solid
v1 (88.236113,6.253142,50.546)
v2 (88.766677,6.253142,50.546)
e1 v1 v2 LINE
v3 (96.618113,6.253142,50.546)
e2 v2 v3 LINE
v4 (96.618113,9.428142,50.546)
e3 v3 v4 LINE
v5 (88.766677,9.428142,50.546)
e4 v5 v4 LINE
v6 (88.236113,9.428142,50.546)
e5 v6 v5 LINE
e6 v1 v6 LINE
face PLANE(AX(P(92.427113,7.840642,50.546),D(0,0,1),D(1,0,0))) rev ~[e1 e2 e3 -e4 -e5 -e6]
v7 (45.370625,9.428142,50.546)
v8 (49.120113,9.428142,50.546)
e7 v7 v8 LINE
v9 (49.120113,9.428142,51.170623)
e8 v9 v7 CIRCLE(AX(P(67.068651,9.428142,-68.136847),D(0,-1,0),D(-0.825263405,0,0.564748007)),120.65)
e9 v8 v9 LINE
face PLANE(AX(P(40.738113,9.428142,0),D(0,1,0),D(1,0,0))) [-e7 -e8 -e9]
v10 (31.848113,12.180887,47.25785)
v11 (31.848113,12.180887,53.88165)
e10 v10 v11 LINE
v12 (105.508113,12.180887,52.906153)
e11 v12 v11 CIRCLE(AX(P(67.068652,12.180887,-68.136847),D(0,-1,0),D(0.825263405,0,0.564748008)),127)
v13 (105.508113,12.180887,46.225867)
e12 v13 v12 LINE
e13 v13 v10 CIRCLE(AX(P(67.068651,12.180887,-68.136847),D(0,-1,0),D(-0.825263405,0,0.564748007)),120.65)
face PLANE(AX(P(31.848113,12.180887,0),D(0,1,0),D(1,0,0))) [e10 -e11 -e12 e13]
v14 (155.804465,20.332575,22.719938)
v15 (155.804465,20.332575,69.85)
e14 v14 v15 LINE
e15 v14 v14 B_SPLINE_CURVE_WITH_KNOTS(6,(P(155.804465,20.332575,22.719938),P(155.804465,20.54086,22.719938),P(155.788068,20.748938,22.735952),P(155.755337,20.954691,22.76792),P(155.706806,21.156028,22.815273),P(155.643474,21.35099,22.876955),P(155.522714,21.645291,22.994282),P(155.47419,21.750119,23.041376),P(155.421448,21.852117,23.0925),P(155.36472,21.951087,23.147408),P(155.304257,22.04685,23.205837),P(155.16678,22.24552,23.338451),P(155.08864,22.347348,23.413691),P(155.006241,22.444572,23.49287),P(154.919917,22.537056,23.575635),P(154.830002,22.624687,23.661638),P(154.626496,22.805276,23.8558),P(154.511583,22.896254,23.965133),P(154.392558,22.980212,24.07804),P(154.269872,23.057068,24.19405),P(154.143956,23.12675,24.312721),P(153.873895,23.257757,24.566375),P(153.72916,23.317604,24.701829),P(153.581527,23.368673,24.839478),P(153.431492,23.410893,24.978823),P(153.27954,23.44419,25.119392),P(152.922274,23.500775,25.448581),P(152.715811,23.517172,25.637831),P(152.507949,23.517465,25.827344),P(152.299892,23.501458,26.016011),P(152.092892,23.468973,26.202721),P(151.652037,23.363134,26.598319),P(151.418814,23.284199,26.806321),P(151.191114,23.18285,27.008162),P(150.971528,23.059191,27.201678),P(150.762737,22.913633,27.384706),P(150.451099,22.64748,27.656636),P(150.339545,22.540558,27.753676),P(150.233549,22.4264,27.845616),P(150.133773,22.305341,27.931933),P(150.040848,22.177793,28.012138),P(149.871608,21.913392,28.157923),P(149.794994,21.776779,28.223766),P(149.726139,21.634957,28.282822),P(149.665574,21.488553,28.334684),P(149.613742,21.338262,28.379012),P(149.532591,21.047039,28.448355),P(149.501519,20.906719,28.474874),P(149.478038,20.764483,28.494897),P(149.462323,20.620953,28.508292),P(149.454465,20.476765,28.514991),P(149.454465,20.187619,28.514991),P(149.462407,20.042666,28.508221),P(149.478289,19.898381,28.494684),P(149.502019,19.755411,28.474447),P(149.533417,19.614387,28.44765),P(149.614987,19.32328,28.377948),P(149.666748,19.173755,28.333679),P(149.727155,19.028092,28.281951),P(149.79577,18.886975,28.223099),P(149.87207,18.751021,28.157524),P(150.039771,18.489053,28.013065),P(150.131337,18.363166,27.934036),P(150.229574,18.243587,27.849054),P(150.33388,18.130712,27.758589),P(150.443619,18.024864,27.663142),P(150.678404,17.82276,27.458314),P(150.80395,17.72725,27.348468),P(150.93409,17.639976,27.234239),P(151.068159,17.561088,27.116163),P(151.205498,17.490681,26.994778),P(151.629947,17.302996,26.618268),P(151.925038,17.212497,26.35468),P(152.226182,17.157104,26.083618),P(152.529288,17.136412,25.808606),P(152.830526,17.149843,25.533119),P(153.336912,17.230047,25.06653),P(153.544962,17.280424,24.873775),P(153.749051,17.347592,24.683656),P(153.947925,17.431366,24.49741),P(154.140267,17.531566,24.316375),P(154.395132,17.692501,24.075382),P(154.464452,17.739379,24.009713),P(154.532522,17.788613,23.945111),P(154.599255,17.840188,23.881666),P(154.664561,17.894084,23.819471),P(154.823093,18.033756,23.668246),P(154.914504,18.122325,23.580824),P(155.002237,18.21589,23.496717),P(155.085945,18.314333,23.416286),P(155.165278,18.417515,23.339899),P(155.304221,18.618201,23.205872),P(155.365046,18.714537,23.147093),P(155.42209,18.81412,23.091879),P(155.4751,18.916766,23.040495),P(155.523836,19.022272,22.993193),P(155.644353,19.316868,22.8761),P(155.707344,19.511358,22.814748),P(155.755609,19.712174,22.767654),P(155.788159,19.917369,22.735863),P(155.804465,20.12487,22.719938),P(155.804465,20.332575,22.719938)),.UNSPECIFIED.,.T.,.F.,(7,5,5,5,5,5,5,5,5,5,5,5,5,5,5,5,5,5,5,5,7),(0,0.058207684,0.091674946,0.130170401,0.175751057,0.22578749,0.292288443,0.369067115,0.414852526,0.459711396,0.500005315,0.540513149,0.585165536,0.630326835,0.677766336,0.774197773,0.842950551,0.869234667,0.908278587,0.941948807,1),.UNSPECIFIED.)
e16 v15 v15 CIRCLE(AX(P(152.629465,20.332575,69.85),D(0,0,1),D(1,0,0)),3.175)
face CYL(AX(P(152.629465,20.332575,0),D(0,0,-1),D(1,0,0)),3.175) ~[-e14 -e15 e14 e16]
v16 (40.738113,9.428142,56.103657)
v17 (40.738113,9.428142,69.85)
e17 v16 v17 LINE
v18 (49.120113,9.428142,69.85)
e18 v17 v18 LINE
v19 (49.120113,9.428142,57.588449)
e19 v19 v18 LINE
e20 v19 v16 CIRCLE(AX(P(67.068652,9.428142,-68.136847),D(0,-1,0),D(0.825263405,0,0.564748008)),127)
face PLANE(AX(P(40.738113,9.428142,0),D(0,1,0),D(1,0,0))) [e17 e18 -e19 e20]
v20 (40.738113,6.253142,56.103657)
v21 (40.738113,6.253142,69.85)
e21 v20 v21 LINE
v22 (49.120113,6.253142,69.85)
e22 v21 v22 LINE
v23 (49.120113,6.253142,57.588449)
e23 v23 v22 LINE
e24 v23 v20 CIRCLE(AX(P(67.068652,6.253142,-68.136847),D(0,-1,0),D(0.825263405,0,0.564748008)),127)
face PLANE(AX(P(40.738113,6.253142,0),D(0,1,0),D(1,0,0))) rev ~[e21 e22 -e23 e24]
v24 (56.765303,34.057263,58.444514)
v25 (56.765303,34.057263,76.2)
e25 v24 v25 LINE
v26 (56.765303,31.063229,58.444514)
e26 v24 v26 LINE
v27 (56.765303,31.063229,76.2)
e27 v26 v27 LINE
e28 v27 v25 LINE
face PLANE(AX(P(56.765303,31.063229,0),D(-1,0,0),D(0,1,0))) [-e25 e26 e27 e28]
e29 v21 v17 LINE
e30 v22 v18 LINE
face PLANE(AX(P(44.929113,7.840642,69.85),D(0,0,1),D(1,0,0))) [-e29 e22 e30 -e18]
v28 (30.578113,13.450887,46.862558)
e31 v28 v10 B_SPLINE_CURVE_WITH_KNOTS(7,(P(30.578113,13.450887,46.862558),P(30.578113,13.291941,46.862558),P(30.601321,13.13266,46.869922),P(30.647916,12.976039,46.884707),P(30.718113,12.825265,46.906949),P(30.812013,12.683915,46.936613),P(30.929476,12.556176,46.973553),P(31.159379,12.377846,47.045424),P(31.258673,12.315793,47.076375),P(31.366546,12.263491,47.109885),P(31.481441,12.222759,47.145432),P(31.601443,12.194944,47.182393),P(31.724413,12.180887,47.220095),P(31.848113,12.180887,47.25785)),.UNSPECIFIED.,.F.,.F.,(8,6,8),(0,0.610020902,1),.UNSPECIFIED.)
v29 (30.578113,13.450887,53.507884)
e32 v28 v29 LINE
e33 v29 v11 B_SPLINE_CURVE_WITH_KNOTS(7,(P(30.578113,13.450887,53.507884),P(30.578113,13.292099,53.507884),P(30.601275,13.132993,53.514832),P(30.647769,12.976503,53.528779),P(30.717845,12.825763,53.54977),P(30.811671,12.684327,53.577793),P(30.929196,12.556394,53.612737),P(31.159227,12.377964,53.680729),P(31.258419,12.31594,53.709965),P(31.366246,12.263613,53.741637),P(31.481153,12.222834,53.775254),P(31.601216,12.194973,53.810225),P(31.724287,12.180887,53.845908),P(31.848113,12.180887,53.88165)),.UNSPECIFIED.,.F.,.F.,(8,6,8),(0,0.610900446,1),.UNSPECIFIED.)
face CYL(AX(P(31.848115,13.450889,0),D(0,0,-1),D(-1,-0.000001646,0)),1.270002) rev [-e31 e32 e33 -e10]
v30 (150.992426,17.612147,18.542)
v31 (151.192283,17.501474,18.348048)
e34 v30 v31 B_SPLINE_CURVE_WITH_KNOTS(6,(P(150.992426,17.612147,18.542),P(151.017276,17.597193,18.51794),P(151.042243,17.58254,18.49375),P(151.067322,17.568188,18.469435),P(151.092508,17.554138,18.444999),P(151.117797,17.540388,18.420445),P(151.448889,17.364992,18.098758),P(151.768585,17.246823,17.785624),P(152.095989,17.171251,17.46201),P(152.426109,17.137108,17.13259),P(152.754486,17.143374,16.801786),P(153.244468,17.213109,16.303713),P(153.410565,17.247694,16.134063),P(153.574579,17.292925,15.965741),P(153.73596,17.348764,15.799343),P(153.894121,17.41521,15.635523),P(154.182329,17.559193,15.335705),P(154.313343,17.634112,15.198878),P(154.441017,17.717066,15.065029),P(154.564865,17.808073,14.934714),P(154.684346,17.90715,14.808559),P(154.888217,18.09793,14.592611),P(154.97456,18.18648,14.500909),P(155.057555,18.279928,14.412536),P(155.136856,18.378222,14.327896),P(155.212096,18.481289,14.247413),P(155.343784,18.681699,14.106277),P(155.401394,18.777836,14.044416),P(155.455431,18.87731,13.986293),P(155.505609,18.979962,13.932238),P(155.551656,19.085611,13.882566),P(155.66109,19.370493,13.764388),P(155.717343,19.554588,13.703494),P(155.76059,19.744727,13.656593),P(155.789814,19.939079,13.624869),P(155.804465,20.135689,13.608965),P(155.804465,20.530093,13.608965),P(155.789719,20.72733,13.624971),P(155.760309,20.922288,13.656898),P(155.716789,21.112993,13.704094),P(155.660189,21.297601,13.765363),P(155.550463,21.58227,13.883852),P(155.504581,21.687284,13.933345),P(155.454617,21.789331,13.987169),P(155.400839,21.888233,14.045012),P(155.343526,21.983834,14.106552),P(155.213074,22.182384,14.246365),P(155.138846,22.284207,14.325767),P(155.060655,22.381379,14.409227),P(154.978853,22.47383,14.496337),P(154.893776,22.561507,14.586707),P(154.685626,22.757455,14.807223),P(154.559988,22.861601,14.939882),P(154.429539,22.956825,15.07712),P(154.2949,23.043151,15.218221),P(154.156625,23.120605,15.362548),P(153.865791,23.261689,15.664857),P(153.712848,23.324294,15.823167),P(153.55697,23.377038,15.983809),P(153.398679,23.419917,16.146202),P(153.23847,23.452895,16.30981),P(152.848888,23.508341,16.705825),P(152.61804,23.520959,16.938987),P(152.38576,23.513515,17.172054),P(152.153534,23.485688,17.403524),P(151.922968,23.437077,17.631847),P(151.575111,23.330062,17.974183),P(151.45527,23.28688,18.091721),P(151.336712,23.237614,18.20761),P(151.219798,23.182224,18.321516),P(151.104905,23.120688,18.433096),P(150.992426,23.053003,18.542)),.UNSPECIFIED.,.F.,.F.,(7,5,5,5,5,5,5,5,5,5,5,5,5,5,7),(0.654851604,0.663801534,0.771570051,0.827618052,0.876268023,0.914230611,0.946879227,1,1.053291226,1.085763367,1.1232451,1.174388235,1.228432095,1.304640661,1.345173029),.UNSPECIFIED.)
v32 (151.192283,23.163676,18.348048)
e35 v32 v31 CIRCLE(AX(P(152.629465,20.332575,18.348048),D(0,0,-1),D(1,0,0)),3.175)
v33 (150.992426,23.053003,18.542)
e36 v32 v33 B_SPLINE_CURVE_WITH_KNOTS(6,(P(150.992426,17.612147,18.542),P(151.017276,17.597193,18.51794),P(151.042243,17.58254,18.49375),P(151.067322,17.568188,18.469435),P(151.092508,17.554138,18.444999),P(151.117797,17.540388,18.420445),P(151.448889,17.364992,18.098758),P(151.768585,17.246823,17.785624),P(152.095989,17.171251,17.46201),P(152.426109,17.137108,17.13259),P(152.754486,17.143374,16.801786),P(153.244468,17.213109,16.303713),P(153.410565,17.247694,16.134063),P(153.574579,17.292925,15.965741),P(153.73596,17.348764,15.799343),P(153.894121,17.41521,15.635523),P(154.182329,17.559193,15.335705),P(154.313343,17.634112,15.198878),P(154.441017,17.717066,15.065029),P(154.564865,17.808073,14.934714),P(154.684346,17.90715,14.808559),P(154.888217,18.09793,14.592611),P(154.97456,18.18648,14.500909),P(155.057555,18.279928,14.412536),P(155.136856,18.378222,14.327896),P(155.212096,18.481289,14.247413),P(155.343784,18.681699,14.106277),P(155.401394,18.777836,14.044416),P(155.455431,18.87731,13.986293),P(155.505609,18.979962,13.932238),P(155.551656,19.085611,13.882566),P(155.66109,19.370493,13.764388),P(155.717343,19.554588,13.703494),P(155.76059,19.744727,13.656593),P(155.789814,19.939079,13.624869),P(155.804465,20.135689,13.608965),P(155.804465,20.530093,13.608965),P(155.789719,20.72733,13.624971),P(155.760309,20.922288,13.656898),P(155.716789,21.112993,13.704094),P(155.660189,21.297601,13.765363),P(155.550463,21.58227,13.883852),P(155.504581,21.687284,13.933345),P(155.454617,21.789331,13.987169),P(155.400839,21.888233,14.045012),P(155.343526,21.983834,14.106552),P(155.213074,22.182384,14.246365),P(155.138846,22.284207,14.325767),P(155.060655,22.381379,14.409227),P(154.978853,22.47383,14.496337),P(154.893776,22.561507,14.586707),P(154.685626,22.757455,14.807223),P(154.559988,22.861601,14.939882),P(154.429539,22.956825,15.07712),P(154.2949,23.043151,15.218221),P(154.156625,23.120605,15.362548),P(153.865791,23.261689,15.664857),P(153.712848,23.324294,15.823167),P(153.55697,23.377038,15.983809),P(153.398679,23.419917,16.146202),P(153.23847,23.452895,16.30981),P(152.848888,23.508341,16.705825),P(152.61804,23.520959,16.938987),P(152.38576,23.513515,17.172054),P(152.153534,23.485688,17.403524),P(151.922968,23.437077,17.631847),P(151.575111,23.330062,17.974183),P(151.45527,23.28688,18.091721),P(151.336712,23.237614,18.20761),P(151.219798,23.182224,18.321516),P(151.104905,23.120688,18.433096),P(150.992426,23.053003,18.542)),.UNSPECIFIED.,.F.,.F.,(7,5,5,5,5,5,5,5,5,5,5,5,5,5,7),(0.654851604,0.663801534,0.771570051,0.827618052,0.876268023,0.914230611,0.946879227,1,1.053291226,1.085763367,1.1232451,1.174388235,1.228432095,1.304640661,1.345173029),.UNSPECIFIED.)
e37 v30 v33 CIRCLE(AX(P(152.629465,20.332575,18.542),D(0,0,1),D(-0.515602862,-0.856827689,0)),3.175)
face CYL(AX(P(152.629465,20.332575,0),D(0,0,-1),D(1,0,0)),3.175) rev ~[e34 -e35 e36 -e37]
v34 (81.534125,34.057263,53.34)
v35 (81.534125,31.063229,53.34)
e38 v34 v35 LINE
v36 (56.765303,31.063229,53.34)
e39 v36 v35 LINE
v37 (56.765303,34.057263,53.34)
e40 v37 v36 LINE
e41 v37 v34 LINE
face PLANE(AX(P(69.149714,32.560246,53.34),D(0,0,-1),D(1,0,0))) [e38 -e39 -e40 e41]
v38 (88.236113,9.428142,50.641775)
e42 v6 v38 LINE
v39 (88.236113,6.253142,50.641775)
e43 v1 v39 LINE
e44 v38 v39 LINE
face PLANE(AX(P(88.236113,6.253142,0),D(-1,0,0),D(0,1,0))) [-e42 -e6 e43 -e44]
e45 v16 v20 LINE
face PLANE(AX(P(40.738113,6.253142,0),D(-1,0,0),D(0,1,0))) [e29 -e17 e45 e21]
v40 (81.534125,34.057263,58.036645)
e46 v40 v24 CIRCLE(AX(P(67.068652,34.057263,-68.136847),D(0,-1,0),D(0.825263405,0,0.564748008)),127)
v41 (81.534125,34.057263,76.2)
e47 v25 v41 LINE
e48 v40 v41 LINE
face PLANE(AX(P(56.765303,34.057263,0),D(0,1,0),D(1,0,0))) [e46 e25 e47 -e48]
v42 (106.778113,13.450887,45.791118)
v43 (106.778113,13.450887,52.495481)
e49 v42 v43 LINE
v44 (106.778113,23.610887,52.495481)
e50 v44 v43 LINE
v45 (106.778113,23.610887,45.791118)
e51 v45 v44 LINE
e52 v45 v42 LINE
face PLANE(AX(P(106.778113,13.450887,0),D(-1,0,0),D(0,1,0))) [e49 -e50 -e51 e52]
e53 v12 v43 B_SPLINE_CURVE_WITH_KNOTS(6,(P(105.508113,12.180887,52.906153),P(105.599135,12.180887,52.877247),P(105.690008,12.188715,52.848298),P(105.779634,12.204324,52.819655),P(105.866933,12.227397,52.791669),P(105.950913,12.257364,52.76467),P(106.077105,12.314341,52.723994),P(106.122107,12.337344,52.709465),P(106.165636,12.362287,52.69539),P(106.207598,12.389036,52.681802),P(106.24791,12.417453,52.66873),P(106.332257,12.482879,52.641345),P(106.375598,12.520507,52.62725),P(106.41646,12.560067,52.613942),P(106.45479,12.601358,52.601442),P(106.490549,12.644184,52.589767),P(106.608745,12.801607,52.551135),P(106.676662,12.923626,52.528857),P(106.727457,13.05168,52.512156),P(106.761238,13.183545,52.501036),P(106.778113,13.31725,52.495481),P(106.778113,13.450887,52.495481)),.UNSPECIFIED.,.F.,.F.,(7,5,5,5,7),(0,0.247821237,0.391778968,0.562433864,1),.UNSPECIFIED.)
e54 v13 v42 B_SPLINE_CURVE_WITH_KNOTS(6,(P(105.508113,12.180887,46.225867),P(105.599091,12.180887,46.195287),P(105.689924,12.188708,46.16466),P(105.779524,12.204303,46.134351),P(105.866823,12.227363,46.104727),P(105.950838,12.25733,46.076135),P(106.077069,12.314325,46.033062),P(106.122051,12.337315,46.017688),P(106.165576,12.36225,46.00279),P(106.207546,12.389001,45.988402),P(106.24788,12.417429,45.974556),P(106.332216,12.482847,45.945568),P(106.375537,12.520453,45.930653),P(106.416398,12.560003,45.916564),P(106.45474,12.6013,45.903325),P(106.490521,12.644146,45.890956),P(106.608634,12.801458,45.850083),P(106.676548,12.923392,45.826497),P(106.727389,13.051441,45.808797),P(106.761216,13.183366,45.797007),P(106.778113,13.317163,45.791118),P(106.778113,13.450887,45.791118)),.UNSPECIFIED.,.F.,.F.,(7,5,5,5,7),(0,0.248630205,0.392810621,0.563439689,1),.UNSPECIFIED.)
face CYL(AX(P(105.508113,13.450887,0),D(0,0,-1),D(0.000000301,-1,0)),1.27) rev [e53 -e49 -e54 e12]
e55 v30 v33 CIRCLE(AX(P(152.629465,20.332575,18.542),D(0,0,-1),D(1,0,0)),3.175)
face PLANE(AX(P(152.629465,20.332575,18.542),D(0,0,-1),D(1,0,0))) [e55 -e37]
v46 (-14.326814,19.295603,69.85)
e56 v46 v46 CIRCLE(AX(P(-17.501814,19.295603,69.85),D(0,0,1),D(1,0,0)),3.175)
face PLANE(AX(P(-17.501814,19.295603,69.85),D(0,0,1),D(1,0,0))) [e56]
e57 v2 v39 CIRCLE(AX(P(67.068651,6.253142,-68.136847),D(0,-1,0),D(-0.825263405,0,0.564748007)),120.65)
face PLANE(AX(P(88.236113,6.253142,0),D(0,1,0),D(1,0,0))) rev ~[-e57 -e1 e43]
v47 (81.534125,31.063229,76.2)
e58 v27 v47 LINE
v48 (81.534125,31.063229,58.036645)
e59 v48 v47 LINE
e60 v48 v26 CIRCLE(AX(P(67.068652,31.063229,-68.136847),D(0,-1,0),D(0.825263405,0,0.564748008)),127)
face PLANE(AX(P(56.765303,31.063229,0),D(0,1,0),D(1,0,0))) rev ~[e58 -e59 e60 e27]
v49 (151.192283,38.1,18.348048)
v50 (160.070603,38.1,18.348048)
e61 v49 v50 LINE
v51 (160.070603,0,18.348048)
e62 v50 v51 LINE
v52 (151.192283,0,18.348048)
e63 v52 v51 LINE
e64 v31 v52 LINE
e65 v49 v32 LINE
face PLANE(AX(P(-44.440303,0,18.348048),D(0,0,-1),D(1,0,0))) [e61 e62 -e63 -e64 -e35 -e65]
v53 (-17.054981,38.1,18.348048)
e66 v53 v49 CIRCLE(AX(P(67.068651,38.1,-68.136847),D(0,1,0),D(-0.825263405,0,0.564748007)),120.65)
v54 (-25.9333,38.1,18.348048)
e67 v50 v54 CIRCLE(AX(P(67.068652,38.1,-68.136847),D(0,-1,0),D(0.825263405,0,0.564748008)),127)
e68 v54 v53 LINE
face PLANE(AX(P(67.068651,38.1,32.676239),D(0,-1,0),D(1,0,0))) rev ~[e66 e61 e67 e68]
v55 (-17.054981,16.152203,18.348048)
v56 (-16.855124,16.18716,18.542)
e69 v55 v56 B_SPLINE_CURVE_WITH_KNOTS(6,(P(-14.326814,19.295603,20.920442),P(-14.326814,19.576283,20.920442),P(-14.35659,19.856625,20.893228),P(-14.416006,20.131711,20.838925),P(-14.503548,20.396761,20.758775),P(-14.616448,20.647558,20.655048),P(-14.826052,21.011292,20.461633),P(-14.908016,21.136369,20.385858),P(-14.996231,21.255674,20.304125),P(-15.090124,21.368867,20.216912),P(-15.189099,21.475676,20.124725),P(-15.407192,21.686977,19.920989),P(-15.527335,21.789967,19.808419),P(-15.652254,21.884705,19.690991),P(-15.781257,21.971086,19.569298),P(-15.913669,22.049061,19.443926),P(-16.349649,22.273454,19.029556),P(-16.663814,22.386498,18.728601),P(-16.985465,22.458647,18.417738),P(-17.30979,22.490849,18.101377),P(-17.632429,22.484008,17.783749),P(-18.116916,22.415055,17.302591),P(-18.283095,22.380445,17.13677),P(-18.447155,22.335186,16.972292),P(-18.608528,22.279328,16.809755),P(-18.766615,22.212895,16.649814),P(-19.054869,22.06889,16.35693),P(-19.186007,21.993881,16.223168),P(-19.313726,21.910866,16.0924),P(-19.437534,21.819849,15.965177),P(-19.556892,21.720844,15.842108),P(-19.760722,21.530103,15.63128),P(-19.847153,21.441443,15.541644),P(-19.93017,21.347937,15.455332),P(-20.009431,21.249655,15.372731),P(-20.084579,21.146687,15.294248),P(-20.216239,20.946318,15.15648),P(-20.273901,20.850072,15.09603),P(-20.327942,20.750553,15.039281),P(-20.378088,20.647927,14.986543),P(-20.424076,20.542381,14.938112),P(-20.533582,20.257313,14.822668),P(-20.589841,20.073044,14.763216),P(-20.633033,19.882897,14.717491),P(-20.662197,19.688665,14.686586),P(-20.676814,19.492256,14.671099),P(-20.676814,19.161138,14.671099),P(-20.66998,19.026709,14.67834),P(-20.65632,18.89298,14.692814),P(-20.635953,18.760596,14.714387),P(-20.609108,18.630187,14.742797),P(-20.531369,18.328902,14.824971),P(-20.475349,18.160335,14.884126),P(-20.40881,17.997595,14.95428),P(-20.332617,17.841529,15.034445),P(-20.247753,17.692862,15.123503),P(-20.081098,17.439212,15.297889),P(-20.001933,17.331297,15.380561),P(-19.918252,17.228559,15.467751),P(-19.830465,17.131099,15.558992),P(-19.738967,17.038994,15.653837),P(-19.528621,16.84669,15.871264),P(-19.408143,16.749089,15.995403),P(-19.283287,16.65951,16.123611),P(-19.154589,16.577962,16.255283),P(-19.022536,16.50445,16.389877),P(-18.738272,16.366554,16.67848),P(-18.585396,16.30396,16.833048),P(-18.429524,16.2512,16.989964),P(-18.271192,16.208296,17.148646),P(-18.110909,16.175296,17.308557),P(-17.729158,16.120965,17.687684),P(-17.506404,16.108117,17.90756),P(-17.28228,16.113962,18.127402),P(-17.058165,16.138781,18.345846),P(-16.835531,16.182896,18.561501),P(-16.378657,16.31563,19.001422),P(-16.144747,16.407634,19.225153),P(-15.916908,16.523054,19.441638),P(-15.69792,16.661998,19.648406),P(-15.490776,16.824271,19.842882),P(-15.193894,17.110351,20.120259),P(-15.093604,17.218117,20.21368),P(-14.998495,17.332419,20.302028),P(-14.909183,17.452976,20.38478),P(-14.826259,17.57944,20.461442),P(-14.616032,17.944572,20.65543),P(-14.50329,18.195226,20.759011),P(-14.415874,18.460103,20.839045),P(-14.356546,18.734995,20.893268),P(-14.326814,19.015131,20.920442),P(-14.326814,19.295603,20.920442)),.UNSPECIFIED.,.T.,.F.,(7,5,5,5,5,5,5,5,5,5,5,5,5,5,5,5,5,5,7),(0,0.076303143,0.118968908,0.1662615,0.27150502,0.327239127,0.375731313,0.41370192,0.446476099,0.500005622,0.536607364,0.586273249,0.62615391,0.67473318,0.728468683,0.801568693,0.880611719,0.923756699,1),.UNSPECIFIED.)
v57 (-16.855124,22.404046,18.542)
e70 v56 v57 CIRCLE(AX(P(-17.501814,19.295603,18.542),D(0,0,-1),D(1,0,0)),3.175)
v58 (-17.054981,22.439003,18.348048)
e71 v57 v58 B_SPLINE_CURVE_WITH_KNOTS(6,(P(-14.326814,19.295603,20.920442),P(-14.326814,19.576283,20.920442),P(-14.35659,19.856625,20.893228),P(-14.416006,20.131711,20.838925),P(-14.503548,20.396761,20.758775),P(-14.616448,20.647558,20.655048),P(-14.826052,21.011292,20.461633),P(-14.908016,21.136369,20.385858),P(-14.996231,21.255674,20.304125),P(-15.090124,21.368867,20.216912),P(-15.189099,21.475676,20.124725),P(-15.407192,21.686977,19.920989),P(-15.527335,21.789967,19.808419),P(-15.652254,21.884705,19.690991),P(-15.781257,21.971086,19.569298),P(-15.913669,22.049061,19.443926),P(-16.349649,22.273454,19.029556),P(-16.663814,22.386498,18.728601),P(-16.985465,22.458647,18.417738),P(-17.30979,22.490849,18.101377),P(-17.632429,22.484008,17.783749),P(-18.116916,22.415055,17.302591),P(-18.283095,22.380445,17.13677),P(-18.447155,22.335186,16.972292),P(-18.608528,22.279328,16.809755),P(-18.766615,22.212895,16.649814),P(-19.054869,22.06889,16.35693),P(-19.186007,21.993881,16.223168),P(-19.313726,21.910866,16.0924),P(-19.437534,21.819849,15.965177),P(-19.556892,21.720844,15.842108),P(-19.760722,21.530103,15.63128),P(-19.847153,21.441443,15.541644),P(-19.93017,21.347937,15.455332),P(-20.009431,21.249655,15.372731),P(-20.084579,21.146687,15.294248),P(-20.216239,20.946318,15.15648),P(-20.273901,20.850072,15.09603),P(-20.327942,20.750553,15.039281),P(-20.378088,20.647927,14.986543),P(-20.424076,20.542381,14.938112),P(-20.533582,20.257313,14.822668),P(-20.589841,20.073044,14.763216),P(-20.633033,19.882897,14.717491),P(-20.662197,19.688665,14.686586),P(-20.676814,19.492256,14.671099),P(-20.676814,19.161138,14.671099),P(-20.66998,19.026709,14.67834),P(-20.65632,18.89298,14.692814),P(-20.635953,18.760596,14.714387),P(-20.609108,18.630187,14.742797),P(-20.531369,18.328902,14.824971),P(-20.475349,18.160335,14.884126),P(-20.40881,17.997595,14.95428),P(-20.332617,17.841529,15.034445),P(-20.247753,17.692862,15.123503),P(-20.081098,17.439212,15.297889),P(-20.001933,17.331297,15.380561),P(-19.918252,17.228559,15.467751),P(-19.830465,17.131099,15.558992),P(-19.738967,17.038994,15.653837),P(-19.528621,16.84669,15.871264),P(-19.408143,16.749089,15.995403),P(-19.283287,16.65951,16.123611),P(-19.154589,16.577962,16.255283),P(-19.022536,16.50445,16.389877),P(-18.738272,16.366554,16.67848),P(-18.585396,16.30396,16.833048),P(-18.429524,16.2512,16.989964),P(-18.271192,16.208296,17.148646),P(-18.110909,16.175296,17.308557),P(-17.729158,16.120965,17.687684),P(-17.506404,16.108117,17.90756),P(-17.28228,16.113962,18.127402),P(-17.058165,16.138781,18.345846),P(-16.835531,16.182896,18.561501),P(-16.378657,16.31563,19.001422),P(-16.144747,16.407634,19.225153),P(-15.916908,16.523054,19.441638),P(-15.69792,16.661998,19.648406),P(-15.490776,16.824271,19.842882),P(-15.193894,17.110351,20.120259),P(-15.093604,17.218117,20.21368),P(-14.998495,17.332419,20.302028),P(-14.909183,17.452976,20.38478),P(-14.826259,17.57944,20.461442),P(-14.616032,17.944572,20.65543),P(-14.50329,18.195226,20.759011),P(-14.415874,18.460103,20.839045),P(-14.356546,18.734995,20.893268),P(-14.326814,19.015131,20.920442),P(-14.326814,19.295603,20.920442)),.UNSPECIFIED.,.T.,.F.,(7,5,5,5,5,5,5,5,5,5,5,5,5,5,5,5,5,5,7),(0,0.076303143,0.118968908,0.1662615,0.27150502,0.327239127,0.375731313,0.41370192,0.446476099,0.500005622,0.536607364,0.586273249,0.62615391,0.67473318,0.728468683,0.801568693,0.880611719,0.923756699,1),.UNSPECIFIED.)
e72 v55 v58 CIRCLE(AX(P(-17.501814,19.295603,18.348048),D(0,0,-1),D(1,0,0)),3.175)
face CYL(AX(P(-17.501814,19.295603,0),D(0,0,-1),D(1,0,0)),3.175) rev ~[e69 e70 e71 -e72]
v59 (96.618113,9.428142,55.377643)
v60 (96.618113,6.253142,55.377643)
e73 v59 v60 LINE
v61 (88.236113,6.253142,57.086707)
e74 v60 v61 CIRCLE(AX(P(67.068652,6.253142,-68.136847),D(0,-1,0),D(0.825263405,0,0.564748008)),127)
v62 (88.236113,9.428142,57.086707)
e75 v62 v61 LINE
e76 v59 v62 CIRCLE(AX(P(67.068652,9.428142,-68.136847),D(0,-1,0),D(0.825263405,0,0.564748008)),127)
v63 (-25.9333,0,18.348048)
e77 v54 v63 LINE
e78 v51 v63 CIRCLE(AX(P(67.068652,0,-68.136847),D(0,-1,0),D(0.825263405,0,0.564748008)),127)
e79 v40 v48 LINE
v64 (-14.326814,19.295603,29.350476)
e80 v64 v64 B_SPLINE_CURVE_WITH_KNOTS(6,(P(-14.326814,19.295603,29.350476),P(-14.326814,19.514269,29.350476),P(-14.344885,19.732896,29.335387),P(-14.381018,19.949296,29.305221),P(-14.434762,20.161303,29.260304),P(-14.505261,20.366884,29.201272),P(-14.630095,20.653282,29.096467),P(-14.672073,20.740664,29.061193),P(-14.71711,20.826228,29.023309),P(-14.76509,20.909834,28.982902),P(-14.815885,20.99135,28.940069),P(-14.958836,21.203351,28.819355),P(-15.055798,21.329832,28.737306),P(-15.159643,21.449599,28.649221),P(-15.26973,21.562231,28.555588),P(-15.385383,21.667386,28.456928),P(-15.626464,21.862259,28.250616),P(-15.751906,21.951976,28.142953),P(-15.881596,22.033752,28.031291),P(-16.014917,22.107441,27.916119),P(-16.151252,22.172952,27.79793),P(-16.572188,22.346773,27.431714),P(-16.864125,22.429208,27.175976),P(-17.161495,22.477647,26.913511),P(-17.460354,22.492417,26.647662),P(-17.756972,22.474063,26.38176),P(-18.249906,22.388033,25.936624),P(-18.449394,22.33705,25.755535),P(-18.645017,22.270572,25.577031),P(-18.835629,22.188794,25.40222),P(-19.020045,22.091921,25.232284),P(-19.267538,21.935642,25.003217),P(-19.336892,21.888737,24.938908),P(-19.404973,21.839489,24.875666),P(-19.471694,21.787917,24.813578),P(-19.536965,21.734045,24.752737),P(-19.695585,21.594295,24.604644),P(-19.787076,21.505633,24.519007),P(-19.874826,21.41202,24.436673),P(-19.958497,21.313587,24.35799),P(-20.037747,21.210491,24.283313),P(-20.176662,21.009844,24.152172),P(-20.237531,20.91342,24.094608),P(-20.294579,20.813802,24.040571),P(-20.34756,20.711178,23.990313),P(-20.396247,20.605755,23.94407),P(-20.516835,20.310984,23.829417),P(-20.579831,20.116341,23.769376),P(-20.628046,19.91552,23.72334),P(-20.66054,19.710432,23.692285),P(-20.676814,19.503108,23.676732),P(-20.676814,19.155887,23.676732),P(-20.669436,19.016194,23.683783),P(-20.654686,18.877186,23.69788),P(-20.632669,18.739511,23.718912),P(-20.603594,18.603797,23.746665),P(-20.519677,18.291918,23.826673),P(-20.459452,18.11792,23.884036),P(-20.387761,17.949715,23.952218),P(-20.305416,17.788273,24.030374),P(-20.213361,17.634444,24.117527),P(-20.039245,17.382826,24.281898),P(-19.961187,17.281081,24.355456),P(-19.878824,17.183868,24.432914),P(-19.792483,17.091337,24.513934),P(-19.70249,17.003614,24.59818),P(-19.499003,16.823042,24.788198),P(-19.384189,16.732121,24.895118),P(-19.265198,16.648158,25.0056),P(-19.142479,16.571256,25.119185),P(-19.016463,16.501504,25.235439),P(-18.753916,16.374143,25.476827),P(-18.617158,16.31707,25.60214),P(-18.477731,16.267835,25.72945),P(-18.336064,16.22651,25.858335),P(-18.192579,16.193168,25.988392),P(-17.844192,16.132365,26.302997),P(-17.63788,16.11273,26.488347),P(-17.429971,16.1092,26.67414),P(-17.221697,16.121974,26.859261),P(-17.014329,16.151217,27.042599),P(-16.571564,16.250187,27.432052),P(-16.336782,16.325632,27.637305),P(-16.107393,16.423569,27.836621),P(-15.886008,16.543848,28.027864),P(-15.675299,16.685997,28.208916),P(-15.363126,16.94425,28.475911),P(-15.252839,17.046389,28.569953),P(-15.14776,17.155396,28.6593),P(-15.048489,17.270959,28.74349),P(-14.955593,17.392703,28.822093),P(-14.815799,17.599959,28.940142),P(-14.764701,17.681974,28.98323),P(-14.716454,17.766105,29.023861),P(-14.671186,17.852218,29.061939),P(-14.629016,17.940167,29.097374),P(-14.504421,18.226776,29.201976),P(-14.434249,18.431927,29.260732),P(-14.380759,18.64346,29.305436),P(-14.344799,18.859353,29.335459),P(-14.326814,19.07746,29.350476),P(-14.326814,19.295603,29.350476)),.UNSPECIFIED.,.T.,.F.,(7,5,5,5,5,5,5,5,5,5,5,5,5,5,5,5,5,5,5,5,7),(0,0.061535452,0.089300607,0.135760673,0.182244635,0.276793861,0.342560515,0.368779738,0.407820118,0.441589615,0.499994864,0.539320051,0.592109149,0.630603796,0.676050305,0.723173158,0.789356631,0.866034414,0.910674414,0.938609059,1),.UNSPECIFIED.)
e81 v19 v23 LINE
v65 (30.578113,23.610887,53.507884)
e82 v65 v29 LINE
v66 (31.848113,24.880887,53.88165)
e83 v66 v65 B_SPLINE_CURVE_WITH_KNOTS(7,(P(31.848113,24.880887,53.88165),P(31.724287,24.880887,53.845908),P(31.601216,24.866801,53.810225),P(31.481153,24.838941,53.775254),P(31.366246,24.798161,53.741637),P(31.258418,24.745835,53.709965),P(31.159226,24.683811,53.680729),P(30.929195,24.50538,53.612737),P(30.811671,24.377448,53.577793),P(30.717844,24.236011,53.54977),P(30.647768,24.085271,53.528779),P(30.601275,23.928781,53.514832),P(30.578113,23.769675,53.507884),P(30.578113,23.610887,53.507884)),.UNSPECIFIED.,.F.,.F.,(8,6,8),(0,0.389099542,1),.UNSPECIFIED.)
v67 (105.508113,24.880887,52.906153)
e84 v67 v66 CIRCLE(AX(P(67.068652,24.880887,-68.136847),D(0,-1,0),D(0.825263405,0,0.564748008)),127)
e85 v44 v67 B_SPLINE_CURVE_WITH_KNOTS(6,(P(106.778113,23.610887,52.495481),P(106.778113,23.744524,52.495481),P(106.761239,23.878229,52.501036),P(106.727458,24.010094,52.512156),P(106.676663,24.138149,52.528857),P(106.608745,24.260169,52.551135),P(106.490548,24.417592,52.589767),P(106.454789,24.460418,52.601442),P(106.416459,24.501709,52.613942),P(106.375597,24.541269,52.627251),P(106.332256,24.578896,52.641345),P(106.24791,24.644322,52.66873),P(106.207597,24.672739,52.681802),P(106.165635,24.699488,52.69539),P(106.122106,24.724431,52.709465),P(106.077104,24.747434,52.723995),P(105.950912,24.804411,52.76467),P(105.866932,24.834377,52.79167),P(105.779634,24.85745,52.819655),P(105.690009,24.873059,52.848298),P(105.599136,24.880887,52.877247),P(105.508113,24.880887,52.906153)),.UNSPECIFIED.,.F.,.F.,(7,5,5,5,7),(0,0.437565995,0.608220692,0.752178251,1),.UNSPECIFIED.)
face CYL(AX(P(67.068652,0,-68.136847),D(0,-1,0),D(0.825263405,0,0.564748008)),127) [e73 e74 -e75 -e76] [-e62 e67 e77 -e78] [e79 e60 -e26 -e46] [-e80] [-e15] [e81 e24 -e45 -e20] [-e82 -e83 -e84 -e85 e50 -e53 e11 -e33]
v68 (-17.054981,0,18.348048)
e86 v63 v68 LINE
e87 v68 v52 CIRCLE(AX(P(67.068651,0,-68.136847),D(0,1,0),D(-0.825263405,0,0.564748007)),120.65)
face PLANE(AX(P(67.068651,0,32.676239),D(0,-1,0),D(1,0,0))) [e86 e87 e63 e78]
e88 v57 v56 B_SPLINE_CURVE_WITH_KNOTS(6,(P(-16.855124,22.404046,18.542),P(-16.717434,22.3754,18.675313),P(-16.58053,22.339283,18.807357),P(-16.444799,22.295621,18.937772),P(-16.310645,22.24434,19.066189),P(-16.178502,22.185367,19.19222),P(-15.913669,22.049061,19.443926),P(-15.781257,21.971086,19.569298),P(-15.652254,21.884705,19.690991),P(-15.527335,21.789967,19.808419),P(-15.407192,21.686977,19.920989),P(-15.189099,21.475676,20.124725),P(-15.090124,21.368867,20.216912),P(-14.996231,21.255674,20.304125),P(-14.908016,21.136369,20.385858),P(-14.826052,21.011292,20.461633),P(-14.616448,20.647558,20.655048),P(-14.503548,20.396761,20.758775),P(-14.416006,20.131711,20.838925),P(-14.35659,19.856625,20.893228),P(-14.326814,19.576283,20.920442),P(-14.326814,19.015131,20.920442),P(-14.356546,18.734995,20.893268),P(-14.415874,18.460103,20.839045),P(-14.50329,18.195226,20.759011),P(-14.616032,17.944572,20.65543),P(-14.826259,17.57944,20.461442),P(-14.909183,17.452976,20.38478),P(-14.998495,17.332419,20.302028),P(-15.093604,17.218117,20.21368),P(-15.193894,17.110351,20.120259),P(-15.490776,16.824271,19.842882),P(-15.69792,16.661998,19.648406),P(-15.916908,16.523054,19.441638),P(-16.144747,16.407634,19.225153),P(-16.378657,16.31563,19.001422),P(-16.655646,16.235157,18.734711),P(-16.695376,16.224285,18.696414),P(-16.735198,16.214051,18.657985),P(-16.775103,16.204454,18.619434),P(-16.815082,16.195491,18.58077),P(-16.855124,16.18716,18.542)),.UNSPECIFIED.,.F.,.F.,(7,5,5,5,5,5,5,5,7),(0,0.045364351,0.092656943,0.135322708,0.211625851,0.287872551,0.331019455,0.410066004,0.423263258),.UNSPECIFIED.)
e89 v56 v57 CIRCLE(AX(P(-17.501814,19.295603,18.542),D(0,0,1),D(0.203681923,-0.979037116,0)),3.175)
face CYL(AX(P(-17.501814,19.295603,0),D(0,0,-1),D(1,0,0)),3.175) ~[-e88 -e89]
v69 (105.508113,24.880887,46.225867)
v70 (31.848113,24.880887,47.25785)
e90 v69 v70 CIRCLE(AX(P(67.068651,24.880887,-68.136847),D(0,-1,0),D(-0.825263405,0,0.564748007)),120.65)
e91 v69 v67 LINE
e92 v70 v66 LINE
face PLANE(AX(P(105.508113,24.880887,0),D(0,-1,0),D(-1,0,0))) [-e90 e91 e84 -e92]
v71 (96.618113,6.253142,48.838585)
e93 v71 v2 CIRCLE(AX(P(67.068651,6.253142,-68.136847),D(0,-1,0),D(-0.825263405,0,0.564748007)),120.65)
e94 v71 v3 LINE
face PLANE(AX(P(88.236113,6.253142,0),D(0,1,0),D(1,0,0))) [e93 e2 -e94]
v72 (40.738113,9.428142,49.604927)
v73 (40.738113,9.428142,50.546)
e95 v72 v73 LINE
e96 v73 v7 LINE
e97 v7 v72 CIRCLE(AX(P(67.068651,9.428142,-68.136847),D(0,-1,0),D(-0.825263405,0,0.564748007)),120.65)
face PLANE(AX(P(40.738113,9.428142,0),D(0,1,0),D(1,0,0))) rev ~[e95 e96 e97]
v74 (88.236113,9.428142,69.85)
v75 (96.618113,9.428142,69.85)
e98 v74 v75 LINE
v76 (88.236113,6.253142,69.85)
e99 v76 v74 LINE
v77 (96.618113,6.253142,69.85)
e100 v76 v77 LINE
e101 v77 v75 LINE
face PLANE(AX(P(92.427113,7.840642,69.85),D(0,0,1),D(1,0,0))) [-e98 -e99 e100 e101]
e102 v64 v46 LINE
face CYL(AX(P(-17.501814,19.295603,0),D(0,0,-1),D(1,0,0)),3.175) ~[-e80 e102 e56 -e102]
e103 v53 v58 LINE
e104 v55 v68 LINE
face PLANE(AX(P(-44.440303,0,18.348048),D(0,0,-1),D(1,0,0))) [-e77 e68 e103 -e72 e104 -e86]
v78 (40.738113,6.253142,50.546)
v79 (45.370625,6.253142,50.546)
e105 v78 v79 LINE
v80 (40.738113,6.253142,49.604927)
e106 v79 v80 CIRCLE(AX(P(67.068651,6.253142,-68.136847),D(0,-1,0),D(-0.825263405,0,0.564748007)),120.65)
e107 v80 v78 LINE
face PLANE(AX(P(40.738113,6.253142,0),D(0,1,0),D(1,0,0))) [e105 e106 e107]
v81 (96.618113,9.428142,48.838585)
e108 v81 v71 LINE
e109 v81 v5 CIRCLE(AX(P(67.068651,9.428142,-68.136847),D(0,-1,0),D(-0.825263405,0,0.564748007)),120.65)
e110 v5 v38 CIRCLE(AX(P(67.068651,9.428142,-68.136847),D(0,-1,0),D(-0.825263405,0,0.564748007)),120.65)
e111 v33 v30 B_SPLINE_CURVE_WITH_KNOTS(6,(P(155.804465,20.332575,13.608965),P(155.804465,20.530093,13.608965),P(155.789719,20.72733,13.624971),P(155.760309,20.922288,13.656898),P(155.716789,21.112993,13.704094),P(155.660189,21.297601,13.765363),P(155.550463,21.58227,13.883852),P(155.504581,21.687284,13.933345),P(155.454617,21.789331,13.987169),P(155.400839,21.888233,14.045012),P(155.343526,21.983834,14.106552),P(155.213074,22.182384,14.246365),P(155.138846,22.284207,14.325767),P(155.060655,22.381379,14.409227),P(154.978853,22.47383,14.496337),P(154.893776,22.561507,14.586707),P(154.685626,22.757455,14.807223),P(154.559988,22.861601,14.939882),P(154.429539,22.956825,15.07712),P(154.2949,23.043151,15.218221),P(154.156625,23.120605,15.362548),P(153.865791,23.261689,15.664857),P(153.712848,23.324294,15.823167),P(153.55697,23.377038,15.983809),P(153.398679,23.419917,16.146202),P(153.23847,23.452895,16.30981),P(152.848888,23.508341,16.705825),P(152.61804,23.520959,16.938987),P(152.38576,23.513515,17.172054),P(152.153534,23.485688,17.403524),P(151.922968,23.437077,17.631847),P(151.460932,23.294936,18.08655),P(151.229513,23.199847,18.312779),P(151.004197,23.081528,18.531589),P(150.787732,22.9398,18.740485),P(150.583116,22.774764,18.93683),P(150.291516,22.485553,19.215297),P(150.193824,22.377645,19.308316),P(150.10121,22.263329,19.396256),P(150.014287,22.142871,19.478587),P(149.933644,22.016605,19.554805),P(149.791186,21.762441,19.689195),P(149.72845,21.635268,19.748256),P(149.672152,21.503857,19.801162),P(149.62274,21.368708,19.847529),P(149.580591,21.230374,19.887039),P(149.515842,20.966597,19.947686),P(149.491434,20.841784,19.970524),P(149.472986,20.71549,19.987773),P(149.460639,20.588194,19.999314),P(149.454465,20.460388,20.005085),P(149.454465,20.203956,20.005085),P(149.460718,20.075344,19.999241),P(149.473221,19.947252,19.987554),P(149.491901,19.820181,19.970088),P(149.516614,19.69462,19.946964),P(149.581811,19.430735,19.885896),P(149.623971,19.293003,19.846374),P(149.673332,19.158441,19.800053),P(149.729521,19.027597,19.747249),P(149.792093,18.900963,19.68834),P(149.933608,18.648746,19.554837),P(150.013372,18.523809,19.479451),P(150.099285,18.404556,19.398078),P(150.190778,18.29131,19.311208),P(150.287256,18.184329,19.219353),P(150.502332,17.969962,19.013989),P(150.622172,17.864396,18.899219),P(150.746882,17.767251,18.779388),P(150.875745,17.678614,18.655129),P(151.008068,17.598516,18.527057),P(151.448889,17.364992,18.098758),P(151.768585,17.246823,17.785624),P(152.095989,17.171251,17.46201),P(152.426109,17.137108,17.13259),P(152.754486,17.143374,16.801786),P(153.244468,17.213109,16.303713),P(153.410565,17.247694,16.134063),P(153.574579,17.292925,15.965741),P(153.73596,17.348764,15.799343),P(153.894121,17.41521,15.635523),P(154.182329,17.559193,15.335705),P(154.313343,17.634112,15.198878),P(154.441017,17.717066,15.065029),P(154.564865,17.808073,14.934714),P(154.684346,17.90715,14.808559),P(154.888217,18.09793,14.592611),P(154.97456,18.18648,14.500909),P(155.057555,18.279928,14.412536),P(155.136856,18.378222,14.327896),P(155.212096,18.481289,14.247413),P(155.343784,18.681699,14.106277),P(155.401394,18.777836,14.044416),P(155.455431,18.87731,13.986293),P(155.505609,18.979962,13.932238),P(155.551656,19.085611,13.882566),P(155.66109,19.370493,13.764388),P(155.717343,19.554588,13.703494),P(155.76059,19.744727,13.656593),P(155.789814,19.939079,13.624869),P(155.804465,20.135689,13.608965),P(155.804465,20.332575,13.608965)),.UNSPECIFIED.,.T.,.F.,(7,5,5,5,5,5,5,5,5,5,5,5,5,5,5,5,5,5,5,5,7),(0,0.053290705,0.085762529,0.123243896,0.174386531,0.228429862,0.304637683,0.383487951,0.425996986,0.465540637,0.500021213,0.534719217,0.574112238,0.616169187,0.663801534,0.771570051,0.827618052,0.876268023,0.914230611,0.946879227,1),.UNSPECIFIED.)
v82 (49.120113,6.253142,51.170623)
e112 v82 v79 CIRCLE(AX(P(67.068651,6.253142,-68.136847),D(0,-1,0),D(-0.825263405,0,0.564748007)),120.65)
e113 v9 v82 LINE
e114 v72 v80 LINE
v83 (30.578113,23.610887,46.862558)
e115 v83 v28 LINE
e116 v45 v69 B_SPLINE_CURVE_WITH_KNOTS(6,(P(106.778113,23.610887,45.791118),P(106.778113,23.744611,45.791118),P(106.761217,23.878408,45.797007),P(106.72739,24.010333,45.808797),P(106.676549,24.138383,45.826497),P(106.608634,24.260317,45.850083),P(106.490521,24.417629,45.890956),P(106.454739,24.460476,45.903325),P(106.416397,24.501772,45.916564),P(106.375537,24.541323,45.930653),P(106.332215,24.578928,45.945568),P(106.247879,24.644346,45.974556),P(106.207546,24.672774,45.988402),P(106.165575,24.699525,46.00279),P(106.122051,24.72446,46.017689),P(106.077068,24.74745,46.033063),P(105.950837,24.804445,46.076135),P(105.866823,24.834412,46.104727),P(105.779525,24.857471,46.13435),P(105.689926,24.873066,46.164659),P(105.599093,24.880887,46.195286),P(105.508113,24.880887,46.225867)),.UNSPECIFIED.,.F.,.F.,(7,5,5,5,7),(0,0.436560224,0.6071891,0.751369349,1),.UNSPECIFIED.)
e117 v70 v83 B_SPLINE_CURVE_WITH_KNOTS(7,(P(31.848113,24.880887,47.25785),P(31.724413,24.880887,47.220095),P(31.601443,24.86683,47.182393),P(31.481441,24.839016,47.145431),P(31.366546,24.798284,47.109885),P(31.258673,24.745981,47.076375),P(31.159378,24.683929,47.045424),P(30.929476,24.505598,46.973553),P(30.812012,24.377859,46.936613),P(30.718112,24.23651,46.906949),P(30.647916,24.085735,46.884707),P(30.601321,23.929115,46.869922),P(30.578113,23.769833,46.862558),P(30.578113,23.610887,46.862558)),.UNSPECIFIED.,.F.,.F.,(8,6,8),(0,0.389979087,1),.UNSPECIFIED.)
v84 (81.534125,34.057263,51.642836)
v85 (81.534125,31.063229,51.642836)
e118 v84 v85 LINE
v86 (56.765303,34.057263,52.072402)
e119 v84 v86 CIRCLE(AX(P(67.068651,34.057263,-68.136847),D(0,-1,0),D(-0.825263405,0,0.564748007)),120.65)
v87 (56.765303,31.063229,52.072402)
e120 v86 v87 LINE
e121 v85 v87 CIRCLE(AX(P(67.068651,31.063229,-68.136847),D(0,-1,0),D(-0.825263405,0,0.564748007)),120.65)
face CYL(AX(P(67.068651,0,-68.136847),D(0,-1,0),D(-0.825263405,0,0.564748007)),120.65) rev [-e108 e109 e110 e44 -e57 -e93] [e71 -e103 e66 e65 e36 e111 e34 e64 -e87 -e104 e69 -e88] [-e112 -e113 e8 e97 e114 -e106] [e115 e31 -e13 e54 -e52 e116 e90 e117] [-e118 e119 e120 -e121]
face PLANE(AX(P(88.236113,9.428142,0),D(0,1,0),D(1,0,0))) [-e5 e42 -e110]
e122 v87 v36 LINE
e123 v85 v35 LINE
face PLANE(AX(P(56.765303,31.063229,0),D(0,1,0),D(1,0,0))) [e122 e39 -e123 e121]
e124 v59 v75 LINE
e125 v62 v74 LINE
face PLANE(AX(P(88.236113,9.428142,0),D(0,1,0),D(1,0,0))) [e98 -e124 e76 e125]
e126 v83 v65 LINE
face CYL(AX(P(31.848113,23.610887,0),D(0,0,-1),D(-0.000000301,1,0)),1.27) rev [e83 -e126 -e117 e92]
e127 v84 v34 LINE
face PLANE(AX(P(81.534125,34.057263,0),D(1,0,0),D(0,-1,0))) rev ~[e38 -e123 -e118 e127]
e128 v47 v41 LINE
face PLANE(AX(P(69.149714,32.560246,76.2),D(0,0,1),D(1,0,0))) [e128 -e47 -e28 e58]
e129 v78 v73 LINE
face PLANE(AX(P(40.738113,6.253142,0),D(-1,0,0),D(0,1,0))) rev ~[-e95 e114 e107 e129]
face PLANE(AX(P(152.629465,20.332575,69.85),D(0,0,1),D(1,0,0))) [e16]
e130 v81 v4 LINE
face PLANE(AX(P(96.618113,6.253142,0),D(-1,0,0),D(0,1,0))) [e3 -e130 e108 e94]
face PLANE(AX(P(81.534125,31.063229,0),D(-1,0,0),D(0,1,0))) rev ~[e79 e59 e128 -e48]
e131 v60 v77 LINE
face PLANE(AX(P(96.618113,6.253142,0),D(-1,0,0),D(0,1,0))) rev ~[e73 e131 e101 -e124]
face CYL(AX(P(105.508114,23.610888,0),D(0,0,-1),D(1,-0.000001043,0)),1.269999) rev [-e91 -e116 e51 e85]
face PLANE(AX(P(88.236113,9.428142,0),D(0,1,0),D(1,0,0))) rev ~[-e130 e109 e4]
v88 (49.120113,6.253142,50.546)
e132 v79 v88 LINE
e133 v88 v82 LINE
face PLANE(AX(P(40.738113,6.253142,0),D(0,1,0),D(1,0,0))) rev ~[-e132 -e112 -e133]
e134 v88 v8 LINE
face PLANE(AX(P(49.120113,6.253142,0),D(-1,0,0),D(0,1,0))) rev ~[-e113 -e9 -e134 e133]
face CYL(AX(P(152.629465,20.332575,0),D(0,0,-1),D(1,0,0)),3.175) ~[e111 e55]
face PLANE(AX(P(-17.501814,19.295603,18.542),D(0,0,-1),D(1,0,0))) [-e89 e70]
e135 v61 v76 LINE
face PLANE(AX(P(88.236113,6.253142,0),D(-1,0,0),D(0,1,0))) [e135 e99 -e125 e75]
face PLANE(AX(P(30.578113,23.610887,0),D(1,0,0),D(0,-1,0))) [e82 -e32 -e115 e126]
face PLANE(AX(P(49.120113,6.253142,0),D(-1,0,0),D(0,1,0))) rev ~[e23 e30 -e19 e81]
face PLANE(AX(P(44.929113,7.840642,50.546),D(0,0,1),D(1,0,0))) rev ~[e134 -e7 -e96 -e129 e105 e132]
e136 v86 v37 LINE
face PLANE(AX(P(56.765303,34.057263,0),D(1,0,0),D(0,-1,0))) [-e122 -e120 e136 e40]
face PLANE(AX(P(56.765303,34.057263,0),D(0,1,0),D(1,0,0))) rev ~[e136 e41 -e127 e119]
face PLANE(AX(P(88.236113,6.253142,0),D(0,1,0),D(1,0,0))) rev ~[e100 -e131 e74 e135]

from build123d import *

# Parameters (mm, degrees)
F1_DEPTH  = 38.1
F3_DEPTH  = 63.5
F4_R      = 3.175
F6_DEPTH  = 69.85
F6_FACE_R = 3.175
F7_DEPTH  = 18.542
F5_W      = 24.768822
F5_H      = 2.994034
F8_DEPTH  = 76.2
F8_FACE_W = 24.768822
F8_FACE_H = 2.994034
F9_DEPTH  = 53.34
F10_W     = 222.162876
F10_H     = 22.374636
F11_DEPTH = 50.8
F12_W     = 8.382
F12_H     = 3.175
F13_DEPTH = 69.85
F14_DEPTH = 50.546


with BuildPart() as f1:
    # F0 (on Front) → F1 (new body)
    with BuildSketch(Plane.XZ):
        with BuildLine():
            ThreePointArc((-32.499379, 0), (67.068651, 52.513153), (166.636681, 0))
            Line((166.636681, 0), (171.877104, 3.58615))
            ThreePointArc((171.877104, 3.58615), (67.068651, 58.863153), (-37.739801, 3.58615))
            Line((-37.739801, 3.58615), (-32.499379, 0))
        make_face()
    extrude(amount=-F1_DEPTH)

    # F2 (on Top) → F3 (cut)
    with BuildSketch(Plane.XY):
        with BuildLine():
            Line((105.508113, 24.880887), (31.848113, 24.880887))
            ThreePointArc((31.848113, 24.880887), (30.950088, 24.508913), (30.578113, 23.610887))
            Line((30.578113, 23.610887), (30.578113, 13.450887))
            ThreePointArc((30.578113, 13.450887), (30.950088, 12.552862), (31.848113, 12.180887))
            Line((31.848113, 12.180887), (105.508113, 12.180887))
            ThreePointArc((105.508113, 12.180887), (106.406139, 12.552862), (106.778113, 13.450887))
            Line((106.778113, 13.450887), (106.778113, 23.610887))
            ThreePointArc((106.778113, 23.610887), (106.406139, 24.508913), (105.508113, 24.880887))
        make_face()
    extrude(amount=F3_DEPTH, mode=Mode.SUBTRACT)

    # F4 (on Top) → F6 (join)
    with BuildSketch(Plane.XY):
        with Locations((-17.501814, 19.295603)):
            Circle(F4_R)
        with Locations((152.629465, 20.332575)):
            Circle(F4_R)
    extrude(amount=F6_DEPTH)

    # F6_face (on face) → F7 (cut)
    with BuildSketch(Plane(origin=(152.629465, 20.332575, 0), x_dir=(1, 0, 0), z_dir=(0, 0, -1))):
        Circle(F6_FACE_R)
        with Locations((-170.131279, 1.036972)):
            Circle(F6_FACE_R)
    extrude(amount=-F7_DEPTH, mode=Mode.SUBTRACT)

    # F5 (on Top) → F8 (join)
    with BuildSketch(Plane.XY):
        with Locations((69.149714, 32.560246)):
            Rectangle(F5_W, F5_H)
    extrude(amount=F8_DEPTH)

    # F8_face (on face) → F9 (cut)
    with BuildSketch(Plane(origin=(69.149714, 32.560246, 0), x_dir=(1, 0, 0), z_dir=(0, 0, -1))):
        Rectangle(F8_FACE_W, F8_FACE_H)
    extrude(amount=-F9_DEPTH, mode=Mode.SUBTRACT)

    # F10 (on Front) → F11 (cut)
    with BuildSketch(Plane.XZ):
        with Locations((66.641135, 7.16073)):
            Rectangle(F10_W, F10_H)
    extrude(amount=-F11_DEPTH, mode=Mode.SUBTRACT)

    # F12 (on Top) → F13 (join)
    with BuildSketch(Plane.XY):
        with Locations((44.929113, 7.840642)):
            Rectangle(F12_W, F12_H)
        with Locations((92.427113, 7.840642)):
            Rectangle(F12_W, F12_H)
    extrude(amount=F13_DEPTH)

    # F12 (on Top) → F14 (cut)
    with BuildSketch(Plane.XY):
        with Locations((44.929113, 7.840642)):
            Rectangle(F12_W, F12_H)
        with Locations((92.427113, 7.840642)):
            Rectangle(F12_W, F12_H)
    extrude(amount=F14_DEPTH, mode=Mode.SUBTRACT)


solid = f1.part
